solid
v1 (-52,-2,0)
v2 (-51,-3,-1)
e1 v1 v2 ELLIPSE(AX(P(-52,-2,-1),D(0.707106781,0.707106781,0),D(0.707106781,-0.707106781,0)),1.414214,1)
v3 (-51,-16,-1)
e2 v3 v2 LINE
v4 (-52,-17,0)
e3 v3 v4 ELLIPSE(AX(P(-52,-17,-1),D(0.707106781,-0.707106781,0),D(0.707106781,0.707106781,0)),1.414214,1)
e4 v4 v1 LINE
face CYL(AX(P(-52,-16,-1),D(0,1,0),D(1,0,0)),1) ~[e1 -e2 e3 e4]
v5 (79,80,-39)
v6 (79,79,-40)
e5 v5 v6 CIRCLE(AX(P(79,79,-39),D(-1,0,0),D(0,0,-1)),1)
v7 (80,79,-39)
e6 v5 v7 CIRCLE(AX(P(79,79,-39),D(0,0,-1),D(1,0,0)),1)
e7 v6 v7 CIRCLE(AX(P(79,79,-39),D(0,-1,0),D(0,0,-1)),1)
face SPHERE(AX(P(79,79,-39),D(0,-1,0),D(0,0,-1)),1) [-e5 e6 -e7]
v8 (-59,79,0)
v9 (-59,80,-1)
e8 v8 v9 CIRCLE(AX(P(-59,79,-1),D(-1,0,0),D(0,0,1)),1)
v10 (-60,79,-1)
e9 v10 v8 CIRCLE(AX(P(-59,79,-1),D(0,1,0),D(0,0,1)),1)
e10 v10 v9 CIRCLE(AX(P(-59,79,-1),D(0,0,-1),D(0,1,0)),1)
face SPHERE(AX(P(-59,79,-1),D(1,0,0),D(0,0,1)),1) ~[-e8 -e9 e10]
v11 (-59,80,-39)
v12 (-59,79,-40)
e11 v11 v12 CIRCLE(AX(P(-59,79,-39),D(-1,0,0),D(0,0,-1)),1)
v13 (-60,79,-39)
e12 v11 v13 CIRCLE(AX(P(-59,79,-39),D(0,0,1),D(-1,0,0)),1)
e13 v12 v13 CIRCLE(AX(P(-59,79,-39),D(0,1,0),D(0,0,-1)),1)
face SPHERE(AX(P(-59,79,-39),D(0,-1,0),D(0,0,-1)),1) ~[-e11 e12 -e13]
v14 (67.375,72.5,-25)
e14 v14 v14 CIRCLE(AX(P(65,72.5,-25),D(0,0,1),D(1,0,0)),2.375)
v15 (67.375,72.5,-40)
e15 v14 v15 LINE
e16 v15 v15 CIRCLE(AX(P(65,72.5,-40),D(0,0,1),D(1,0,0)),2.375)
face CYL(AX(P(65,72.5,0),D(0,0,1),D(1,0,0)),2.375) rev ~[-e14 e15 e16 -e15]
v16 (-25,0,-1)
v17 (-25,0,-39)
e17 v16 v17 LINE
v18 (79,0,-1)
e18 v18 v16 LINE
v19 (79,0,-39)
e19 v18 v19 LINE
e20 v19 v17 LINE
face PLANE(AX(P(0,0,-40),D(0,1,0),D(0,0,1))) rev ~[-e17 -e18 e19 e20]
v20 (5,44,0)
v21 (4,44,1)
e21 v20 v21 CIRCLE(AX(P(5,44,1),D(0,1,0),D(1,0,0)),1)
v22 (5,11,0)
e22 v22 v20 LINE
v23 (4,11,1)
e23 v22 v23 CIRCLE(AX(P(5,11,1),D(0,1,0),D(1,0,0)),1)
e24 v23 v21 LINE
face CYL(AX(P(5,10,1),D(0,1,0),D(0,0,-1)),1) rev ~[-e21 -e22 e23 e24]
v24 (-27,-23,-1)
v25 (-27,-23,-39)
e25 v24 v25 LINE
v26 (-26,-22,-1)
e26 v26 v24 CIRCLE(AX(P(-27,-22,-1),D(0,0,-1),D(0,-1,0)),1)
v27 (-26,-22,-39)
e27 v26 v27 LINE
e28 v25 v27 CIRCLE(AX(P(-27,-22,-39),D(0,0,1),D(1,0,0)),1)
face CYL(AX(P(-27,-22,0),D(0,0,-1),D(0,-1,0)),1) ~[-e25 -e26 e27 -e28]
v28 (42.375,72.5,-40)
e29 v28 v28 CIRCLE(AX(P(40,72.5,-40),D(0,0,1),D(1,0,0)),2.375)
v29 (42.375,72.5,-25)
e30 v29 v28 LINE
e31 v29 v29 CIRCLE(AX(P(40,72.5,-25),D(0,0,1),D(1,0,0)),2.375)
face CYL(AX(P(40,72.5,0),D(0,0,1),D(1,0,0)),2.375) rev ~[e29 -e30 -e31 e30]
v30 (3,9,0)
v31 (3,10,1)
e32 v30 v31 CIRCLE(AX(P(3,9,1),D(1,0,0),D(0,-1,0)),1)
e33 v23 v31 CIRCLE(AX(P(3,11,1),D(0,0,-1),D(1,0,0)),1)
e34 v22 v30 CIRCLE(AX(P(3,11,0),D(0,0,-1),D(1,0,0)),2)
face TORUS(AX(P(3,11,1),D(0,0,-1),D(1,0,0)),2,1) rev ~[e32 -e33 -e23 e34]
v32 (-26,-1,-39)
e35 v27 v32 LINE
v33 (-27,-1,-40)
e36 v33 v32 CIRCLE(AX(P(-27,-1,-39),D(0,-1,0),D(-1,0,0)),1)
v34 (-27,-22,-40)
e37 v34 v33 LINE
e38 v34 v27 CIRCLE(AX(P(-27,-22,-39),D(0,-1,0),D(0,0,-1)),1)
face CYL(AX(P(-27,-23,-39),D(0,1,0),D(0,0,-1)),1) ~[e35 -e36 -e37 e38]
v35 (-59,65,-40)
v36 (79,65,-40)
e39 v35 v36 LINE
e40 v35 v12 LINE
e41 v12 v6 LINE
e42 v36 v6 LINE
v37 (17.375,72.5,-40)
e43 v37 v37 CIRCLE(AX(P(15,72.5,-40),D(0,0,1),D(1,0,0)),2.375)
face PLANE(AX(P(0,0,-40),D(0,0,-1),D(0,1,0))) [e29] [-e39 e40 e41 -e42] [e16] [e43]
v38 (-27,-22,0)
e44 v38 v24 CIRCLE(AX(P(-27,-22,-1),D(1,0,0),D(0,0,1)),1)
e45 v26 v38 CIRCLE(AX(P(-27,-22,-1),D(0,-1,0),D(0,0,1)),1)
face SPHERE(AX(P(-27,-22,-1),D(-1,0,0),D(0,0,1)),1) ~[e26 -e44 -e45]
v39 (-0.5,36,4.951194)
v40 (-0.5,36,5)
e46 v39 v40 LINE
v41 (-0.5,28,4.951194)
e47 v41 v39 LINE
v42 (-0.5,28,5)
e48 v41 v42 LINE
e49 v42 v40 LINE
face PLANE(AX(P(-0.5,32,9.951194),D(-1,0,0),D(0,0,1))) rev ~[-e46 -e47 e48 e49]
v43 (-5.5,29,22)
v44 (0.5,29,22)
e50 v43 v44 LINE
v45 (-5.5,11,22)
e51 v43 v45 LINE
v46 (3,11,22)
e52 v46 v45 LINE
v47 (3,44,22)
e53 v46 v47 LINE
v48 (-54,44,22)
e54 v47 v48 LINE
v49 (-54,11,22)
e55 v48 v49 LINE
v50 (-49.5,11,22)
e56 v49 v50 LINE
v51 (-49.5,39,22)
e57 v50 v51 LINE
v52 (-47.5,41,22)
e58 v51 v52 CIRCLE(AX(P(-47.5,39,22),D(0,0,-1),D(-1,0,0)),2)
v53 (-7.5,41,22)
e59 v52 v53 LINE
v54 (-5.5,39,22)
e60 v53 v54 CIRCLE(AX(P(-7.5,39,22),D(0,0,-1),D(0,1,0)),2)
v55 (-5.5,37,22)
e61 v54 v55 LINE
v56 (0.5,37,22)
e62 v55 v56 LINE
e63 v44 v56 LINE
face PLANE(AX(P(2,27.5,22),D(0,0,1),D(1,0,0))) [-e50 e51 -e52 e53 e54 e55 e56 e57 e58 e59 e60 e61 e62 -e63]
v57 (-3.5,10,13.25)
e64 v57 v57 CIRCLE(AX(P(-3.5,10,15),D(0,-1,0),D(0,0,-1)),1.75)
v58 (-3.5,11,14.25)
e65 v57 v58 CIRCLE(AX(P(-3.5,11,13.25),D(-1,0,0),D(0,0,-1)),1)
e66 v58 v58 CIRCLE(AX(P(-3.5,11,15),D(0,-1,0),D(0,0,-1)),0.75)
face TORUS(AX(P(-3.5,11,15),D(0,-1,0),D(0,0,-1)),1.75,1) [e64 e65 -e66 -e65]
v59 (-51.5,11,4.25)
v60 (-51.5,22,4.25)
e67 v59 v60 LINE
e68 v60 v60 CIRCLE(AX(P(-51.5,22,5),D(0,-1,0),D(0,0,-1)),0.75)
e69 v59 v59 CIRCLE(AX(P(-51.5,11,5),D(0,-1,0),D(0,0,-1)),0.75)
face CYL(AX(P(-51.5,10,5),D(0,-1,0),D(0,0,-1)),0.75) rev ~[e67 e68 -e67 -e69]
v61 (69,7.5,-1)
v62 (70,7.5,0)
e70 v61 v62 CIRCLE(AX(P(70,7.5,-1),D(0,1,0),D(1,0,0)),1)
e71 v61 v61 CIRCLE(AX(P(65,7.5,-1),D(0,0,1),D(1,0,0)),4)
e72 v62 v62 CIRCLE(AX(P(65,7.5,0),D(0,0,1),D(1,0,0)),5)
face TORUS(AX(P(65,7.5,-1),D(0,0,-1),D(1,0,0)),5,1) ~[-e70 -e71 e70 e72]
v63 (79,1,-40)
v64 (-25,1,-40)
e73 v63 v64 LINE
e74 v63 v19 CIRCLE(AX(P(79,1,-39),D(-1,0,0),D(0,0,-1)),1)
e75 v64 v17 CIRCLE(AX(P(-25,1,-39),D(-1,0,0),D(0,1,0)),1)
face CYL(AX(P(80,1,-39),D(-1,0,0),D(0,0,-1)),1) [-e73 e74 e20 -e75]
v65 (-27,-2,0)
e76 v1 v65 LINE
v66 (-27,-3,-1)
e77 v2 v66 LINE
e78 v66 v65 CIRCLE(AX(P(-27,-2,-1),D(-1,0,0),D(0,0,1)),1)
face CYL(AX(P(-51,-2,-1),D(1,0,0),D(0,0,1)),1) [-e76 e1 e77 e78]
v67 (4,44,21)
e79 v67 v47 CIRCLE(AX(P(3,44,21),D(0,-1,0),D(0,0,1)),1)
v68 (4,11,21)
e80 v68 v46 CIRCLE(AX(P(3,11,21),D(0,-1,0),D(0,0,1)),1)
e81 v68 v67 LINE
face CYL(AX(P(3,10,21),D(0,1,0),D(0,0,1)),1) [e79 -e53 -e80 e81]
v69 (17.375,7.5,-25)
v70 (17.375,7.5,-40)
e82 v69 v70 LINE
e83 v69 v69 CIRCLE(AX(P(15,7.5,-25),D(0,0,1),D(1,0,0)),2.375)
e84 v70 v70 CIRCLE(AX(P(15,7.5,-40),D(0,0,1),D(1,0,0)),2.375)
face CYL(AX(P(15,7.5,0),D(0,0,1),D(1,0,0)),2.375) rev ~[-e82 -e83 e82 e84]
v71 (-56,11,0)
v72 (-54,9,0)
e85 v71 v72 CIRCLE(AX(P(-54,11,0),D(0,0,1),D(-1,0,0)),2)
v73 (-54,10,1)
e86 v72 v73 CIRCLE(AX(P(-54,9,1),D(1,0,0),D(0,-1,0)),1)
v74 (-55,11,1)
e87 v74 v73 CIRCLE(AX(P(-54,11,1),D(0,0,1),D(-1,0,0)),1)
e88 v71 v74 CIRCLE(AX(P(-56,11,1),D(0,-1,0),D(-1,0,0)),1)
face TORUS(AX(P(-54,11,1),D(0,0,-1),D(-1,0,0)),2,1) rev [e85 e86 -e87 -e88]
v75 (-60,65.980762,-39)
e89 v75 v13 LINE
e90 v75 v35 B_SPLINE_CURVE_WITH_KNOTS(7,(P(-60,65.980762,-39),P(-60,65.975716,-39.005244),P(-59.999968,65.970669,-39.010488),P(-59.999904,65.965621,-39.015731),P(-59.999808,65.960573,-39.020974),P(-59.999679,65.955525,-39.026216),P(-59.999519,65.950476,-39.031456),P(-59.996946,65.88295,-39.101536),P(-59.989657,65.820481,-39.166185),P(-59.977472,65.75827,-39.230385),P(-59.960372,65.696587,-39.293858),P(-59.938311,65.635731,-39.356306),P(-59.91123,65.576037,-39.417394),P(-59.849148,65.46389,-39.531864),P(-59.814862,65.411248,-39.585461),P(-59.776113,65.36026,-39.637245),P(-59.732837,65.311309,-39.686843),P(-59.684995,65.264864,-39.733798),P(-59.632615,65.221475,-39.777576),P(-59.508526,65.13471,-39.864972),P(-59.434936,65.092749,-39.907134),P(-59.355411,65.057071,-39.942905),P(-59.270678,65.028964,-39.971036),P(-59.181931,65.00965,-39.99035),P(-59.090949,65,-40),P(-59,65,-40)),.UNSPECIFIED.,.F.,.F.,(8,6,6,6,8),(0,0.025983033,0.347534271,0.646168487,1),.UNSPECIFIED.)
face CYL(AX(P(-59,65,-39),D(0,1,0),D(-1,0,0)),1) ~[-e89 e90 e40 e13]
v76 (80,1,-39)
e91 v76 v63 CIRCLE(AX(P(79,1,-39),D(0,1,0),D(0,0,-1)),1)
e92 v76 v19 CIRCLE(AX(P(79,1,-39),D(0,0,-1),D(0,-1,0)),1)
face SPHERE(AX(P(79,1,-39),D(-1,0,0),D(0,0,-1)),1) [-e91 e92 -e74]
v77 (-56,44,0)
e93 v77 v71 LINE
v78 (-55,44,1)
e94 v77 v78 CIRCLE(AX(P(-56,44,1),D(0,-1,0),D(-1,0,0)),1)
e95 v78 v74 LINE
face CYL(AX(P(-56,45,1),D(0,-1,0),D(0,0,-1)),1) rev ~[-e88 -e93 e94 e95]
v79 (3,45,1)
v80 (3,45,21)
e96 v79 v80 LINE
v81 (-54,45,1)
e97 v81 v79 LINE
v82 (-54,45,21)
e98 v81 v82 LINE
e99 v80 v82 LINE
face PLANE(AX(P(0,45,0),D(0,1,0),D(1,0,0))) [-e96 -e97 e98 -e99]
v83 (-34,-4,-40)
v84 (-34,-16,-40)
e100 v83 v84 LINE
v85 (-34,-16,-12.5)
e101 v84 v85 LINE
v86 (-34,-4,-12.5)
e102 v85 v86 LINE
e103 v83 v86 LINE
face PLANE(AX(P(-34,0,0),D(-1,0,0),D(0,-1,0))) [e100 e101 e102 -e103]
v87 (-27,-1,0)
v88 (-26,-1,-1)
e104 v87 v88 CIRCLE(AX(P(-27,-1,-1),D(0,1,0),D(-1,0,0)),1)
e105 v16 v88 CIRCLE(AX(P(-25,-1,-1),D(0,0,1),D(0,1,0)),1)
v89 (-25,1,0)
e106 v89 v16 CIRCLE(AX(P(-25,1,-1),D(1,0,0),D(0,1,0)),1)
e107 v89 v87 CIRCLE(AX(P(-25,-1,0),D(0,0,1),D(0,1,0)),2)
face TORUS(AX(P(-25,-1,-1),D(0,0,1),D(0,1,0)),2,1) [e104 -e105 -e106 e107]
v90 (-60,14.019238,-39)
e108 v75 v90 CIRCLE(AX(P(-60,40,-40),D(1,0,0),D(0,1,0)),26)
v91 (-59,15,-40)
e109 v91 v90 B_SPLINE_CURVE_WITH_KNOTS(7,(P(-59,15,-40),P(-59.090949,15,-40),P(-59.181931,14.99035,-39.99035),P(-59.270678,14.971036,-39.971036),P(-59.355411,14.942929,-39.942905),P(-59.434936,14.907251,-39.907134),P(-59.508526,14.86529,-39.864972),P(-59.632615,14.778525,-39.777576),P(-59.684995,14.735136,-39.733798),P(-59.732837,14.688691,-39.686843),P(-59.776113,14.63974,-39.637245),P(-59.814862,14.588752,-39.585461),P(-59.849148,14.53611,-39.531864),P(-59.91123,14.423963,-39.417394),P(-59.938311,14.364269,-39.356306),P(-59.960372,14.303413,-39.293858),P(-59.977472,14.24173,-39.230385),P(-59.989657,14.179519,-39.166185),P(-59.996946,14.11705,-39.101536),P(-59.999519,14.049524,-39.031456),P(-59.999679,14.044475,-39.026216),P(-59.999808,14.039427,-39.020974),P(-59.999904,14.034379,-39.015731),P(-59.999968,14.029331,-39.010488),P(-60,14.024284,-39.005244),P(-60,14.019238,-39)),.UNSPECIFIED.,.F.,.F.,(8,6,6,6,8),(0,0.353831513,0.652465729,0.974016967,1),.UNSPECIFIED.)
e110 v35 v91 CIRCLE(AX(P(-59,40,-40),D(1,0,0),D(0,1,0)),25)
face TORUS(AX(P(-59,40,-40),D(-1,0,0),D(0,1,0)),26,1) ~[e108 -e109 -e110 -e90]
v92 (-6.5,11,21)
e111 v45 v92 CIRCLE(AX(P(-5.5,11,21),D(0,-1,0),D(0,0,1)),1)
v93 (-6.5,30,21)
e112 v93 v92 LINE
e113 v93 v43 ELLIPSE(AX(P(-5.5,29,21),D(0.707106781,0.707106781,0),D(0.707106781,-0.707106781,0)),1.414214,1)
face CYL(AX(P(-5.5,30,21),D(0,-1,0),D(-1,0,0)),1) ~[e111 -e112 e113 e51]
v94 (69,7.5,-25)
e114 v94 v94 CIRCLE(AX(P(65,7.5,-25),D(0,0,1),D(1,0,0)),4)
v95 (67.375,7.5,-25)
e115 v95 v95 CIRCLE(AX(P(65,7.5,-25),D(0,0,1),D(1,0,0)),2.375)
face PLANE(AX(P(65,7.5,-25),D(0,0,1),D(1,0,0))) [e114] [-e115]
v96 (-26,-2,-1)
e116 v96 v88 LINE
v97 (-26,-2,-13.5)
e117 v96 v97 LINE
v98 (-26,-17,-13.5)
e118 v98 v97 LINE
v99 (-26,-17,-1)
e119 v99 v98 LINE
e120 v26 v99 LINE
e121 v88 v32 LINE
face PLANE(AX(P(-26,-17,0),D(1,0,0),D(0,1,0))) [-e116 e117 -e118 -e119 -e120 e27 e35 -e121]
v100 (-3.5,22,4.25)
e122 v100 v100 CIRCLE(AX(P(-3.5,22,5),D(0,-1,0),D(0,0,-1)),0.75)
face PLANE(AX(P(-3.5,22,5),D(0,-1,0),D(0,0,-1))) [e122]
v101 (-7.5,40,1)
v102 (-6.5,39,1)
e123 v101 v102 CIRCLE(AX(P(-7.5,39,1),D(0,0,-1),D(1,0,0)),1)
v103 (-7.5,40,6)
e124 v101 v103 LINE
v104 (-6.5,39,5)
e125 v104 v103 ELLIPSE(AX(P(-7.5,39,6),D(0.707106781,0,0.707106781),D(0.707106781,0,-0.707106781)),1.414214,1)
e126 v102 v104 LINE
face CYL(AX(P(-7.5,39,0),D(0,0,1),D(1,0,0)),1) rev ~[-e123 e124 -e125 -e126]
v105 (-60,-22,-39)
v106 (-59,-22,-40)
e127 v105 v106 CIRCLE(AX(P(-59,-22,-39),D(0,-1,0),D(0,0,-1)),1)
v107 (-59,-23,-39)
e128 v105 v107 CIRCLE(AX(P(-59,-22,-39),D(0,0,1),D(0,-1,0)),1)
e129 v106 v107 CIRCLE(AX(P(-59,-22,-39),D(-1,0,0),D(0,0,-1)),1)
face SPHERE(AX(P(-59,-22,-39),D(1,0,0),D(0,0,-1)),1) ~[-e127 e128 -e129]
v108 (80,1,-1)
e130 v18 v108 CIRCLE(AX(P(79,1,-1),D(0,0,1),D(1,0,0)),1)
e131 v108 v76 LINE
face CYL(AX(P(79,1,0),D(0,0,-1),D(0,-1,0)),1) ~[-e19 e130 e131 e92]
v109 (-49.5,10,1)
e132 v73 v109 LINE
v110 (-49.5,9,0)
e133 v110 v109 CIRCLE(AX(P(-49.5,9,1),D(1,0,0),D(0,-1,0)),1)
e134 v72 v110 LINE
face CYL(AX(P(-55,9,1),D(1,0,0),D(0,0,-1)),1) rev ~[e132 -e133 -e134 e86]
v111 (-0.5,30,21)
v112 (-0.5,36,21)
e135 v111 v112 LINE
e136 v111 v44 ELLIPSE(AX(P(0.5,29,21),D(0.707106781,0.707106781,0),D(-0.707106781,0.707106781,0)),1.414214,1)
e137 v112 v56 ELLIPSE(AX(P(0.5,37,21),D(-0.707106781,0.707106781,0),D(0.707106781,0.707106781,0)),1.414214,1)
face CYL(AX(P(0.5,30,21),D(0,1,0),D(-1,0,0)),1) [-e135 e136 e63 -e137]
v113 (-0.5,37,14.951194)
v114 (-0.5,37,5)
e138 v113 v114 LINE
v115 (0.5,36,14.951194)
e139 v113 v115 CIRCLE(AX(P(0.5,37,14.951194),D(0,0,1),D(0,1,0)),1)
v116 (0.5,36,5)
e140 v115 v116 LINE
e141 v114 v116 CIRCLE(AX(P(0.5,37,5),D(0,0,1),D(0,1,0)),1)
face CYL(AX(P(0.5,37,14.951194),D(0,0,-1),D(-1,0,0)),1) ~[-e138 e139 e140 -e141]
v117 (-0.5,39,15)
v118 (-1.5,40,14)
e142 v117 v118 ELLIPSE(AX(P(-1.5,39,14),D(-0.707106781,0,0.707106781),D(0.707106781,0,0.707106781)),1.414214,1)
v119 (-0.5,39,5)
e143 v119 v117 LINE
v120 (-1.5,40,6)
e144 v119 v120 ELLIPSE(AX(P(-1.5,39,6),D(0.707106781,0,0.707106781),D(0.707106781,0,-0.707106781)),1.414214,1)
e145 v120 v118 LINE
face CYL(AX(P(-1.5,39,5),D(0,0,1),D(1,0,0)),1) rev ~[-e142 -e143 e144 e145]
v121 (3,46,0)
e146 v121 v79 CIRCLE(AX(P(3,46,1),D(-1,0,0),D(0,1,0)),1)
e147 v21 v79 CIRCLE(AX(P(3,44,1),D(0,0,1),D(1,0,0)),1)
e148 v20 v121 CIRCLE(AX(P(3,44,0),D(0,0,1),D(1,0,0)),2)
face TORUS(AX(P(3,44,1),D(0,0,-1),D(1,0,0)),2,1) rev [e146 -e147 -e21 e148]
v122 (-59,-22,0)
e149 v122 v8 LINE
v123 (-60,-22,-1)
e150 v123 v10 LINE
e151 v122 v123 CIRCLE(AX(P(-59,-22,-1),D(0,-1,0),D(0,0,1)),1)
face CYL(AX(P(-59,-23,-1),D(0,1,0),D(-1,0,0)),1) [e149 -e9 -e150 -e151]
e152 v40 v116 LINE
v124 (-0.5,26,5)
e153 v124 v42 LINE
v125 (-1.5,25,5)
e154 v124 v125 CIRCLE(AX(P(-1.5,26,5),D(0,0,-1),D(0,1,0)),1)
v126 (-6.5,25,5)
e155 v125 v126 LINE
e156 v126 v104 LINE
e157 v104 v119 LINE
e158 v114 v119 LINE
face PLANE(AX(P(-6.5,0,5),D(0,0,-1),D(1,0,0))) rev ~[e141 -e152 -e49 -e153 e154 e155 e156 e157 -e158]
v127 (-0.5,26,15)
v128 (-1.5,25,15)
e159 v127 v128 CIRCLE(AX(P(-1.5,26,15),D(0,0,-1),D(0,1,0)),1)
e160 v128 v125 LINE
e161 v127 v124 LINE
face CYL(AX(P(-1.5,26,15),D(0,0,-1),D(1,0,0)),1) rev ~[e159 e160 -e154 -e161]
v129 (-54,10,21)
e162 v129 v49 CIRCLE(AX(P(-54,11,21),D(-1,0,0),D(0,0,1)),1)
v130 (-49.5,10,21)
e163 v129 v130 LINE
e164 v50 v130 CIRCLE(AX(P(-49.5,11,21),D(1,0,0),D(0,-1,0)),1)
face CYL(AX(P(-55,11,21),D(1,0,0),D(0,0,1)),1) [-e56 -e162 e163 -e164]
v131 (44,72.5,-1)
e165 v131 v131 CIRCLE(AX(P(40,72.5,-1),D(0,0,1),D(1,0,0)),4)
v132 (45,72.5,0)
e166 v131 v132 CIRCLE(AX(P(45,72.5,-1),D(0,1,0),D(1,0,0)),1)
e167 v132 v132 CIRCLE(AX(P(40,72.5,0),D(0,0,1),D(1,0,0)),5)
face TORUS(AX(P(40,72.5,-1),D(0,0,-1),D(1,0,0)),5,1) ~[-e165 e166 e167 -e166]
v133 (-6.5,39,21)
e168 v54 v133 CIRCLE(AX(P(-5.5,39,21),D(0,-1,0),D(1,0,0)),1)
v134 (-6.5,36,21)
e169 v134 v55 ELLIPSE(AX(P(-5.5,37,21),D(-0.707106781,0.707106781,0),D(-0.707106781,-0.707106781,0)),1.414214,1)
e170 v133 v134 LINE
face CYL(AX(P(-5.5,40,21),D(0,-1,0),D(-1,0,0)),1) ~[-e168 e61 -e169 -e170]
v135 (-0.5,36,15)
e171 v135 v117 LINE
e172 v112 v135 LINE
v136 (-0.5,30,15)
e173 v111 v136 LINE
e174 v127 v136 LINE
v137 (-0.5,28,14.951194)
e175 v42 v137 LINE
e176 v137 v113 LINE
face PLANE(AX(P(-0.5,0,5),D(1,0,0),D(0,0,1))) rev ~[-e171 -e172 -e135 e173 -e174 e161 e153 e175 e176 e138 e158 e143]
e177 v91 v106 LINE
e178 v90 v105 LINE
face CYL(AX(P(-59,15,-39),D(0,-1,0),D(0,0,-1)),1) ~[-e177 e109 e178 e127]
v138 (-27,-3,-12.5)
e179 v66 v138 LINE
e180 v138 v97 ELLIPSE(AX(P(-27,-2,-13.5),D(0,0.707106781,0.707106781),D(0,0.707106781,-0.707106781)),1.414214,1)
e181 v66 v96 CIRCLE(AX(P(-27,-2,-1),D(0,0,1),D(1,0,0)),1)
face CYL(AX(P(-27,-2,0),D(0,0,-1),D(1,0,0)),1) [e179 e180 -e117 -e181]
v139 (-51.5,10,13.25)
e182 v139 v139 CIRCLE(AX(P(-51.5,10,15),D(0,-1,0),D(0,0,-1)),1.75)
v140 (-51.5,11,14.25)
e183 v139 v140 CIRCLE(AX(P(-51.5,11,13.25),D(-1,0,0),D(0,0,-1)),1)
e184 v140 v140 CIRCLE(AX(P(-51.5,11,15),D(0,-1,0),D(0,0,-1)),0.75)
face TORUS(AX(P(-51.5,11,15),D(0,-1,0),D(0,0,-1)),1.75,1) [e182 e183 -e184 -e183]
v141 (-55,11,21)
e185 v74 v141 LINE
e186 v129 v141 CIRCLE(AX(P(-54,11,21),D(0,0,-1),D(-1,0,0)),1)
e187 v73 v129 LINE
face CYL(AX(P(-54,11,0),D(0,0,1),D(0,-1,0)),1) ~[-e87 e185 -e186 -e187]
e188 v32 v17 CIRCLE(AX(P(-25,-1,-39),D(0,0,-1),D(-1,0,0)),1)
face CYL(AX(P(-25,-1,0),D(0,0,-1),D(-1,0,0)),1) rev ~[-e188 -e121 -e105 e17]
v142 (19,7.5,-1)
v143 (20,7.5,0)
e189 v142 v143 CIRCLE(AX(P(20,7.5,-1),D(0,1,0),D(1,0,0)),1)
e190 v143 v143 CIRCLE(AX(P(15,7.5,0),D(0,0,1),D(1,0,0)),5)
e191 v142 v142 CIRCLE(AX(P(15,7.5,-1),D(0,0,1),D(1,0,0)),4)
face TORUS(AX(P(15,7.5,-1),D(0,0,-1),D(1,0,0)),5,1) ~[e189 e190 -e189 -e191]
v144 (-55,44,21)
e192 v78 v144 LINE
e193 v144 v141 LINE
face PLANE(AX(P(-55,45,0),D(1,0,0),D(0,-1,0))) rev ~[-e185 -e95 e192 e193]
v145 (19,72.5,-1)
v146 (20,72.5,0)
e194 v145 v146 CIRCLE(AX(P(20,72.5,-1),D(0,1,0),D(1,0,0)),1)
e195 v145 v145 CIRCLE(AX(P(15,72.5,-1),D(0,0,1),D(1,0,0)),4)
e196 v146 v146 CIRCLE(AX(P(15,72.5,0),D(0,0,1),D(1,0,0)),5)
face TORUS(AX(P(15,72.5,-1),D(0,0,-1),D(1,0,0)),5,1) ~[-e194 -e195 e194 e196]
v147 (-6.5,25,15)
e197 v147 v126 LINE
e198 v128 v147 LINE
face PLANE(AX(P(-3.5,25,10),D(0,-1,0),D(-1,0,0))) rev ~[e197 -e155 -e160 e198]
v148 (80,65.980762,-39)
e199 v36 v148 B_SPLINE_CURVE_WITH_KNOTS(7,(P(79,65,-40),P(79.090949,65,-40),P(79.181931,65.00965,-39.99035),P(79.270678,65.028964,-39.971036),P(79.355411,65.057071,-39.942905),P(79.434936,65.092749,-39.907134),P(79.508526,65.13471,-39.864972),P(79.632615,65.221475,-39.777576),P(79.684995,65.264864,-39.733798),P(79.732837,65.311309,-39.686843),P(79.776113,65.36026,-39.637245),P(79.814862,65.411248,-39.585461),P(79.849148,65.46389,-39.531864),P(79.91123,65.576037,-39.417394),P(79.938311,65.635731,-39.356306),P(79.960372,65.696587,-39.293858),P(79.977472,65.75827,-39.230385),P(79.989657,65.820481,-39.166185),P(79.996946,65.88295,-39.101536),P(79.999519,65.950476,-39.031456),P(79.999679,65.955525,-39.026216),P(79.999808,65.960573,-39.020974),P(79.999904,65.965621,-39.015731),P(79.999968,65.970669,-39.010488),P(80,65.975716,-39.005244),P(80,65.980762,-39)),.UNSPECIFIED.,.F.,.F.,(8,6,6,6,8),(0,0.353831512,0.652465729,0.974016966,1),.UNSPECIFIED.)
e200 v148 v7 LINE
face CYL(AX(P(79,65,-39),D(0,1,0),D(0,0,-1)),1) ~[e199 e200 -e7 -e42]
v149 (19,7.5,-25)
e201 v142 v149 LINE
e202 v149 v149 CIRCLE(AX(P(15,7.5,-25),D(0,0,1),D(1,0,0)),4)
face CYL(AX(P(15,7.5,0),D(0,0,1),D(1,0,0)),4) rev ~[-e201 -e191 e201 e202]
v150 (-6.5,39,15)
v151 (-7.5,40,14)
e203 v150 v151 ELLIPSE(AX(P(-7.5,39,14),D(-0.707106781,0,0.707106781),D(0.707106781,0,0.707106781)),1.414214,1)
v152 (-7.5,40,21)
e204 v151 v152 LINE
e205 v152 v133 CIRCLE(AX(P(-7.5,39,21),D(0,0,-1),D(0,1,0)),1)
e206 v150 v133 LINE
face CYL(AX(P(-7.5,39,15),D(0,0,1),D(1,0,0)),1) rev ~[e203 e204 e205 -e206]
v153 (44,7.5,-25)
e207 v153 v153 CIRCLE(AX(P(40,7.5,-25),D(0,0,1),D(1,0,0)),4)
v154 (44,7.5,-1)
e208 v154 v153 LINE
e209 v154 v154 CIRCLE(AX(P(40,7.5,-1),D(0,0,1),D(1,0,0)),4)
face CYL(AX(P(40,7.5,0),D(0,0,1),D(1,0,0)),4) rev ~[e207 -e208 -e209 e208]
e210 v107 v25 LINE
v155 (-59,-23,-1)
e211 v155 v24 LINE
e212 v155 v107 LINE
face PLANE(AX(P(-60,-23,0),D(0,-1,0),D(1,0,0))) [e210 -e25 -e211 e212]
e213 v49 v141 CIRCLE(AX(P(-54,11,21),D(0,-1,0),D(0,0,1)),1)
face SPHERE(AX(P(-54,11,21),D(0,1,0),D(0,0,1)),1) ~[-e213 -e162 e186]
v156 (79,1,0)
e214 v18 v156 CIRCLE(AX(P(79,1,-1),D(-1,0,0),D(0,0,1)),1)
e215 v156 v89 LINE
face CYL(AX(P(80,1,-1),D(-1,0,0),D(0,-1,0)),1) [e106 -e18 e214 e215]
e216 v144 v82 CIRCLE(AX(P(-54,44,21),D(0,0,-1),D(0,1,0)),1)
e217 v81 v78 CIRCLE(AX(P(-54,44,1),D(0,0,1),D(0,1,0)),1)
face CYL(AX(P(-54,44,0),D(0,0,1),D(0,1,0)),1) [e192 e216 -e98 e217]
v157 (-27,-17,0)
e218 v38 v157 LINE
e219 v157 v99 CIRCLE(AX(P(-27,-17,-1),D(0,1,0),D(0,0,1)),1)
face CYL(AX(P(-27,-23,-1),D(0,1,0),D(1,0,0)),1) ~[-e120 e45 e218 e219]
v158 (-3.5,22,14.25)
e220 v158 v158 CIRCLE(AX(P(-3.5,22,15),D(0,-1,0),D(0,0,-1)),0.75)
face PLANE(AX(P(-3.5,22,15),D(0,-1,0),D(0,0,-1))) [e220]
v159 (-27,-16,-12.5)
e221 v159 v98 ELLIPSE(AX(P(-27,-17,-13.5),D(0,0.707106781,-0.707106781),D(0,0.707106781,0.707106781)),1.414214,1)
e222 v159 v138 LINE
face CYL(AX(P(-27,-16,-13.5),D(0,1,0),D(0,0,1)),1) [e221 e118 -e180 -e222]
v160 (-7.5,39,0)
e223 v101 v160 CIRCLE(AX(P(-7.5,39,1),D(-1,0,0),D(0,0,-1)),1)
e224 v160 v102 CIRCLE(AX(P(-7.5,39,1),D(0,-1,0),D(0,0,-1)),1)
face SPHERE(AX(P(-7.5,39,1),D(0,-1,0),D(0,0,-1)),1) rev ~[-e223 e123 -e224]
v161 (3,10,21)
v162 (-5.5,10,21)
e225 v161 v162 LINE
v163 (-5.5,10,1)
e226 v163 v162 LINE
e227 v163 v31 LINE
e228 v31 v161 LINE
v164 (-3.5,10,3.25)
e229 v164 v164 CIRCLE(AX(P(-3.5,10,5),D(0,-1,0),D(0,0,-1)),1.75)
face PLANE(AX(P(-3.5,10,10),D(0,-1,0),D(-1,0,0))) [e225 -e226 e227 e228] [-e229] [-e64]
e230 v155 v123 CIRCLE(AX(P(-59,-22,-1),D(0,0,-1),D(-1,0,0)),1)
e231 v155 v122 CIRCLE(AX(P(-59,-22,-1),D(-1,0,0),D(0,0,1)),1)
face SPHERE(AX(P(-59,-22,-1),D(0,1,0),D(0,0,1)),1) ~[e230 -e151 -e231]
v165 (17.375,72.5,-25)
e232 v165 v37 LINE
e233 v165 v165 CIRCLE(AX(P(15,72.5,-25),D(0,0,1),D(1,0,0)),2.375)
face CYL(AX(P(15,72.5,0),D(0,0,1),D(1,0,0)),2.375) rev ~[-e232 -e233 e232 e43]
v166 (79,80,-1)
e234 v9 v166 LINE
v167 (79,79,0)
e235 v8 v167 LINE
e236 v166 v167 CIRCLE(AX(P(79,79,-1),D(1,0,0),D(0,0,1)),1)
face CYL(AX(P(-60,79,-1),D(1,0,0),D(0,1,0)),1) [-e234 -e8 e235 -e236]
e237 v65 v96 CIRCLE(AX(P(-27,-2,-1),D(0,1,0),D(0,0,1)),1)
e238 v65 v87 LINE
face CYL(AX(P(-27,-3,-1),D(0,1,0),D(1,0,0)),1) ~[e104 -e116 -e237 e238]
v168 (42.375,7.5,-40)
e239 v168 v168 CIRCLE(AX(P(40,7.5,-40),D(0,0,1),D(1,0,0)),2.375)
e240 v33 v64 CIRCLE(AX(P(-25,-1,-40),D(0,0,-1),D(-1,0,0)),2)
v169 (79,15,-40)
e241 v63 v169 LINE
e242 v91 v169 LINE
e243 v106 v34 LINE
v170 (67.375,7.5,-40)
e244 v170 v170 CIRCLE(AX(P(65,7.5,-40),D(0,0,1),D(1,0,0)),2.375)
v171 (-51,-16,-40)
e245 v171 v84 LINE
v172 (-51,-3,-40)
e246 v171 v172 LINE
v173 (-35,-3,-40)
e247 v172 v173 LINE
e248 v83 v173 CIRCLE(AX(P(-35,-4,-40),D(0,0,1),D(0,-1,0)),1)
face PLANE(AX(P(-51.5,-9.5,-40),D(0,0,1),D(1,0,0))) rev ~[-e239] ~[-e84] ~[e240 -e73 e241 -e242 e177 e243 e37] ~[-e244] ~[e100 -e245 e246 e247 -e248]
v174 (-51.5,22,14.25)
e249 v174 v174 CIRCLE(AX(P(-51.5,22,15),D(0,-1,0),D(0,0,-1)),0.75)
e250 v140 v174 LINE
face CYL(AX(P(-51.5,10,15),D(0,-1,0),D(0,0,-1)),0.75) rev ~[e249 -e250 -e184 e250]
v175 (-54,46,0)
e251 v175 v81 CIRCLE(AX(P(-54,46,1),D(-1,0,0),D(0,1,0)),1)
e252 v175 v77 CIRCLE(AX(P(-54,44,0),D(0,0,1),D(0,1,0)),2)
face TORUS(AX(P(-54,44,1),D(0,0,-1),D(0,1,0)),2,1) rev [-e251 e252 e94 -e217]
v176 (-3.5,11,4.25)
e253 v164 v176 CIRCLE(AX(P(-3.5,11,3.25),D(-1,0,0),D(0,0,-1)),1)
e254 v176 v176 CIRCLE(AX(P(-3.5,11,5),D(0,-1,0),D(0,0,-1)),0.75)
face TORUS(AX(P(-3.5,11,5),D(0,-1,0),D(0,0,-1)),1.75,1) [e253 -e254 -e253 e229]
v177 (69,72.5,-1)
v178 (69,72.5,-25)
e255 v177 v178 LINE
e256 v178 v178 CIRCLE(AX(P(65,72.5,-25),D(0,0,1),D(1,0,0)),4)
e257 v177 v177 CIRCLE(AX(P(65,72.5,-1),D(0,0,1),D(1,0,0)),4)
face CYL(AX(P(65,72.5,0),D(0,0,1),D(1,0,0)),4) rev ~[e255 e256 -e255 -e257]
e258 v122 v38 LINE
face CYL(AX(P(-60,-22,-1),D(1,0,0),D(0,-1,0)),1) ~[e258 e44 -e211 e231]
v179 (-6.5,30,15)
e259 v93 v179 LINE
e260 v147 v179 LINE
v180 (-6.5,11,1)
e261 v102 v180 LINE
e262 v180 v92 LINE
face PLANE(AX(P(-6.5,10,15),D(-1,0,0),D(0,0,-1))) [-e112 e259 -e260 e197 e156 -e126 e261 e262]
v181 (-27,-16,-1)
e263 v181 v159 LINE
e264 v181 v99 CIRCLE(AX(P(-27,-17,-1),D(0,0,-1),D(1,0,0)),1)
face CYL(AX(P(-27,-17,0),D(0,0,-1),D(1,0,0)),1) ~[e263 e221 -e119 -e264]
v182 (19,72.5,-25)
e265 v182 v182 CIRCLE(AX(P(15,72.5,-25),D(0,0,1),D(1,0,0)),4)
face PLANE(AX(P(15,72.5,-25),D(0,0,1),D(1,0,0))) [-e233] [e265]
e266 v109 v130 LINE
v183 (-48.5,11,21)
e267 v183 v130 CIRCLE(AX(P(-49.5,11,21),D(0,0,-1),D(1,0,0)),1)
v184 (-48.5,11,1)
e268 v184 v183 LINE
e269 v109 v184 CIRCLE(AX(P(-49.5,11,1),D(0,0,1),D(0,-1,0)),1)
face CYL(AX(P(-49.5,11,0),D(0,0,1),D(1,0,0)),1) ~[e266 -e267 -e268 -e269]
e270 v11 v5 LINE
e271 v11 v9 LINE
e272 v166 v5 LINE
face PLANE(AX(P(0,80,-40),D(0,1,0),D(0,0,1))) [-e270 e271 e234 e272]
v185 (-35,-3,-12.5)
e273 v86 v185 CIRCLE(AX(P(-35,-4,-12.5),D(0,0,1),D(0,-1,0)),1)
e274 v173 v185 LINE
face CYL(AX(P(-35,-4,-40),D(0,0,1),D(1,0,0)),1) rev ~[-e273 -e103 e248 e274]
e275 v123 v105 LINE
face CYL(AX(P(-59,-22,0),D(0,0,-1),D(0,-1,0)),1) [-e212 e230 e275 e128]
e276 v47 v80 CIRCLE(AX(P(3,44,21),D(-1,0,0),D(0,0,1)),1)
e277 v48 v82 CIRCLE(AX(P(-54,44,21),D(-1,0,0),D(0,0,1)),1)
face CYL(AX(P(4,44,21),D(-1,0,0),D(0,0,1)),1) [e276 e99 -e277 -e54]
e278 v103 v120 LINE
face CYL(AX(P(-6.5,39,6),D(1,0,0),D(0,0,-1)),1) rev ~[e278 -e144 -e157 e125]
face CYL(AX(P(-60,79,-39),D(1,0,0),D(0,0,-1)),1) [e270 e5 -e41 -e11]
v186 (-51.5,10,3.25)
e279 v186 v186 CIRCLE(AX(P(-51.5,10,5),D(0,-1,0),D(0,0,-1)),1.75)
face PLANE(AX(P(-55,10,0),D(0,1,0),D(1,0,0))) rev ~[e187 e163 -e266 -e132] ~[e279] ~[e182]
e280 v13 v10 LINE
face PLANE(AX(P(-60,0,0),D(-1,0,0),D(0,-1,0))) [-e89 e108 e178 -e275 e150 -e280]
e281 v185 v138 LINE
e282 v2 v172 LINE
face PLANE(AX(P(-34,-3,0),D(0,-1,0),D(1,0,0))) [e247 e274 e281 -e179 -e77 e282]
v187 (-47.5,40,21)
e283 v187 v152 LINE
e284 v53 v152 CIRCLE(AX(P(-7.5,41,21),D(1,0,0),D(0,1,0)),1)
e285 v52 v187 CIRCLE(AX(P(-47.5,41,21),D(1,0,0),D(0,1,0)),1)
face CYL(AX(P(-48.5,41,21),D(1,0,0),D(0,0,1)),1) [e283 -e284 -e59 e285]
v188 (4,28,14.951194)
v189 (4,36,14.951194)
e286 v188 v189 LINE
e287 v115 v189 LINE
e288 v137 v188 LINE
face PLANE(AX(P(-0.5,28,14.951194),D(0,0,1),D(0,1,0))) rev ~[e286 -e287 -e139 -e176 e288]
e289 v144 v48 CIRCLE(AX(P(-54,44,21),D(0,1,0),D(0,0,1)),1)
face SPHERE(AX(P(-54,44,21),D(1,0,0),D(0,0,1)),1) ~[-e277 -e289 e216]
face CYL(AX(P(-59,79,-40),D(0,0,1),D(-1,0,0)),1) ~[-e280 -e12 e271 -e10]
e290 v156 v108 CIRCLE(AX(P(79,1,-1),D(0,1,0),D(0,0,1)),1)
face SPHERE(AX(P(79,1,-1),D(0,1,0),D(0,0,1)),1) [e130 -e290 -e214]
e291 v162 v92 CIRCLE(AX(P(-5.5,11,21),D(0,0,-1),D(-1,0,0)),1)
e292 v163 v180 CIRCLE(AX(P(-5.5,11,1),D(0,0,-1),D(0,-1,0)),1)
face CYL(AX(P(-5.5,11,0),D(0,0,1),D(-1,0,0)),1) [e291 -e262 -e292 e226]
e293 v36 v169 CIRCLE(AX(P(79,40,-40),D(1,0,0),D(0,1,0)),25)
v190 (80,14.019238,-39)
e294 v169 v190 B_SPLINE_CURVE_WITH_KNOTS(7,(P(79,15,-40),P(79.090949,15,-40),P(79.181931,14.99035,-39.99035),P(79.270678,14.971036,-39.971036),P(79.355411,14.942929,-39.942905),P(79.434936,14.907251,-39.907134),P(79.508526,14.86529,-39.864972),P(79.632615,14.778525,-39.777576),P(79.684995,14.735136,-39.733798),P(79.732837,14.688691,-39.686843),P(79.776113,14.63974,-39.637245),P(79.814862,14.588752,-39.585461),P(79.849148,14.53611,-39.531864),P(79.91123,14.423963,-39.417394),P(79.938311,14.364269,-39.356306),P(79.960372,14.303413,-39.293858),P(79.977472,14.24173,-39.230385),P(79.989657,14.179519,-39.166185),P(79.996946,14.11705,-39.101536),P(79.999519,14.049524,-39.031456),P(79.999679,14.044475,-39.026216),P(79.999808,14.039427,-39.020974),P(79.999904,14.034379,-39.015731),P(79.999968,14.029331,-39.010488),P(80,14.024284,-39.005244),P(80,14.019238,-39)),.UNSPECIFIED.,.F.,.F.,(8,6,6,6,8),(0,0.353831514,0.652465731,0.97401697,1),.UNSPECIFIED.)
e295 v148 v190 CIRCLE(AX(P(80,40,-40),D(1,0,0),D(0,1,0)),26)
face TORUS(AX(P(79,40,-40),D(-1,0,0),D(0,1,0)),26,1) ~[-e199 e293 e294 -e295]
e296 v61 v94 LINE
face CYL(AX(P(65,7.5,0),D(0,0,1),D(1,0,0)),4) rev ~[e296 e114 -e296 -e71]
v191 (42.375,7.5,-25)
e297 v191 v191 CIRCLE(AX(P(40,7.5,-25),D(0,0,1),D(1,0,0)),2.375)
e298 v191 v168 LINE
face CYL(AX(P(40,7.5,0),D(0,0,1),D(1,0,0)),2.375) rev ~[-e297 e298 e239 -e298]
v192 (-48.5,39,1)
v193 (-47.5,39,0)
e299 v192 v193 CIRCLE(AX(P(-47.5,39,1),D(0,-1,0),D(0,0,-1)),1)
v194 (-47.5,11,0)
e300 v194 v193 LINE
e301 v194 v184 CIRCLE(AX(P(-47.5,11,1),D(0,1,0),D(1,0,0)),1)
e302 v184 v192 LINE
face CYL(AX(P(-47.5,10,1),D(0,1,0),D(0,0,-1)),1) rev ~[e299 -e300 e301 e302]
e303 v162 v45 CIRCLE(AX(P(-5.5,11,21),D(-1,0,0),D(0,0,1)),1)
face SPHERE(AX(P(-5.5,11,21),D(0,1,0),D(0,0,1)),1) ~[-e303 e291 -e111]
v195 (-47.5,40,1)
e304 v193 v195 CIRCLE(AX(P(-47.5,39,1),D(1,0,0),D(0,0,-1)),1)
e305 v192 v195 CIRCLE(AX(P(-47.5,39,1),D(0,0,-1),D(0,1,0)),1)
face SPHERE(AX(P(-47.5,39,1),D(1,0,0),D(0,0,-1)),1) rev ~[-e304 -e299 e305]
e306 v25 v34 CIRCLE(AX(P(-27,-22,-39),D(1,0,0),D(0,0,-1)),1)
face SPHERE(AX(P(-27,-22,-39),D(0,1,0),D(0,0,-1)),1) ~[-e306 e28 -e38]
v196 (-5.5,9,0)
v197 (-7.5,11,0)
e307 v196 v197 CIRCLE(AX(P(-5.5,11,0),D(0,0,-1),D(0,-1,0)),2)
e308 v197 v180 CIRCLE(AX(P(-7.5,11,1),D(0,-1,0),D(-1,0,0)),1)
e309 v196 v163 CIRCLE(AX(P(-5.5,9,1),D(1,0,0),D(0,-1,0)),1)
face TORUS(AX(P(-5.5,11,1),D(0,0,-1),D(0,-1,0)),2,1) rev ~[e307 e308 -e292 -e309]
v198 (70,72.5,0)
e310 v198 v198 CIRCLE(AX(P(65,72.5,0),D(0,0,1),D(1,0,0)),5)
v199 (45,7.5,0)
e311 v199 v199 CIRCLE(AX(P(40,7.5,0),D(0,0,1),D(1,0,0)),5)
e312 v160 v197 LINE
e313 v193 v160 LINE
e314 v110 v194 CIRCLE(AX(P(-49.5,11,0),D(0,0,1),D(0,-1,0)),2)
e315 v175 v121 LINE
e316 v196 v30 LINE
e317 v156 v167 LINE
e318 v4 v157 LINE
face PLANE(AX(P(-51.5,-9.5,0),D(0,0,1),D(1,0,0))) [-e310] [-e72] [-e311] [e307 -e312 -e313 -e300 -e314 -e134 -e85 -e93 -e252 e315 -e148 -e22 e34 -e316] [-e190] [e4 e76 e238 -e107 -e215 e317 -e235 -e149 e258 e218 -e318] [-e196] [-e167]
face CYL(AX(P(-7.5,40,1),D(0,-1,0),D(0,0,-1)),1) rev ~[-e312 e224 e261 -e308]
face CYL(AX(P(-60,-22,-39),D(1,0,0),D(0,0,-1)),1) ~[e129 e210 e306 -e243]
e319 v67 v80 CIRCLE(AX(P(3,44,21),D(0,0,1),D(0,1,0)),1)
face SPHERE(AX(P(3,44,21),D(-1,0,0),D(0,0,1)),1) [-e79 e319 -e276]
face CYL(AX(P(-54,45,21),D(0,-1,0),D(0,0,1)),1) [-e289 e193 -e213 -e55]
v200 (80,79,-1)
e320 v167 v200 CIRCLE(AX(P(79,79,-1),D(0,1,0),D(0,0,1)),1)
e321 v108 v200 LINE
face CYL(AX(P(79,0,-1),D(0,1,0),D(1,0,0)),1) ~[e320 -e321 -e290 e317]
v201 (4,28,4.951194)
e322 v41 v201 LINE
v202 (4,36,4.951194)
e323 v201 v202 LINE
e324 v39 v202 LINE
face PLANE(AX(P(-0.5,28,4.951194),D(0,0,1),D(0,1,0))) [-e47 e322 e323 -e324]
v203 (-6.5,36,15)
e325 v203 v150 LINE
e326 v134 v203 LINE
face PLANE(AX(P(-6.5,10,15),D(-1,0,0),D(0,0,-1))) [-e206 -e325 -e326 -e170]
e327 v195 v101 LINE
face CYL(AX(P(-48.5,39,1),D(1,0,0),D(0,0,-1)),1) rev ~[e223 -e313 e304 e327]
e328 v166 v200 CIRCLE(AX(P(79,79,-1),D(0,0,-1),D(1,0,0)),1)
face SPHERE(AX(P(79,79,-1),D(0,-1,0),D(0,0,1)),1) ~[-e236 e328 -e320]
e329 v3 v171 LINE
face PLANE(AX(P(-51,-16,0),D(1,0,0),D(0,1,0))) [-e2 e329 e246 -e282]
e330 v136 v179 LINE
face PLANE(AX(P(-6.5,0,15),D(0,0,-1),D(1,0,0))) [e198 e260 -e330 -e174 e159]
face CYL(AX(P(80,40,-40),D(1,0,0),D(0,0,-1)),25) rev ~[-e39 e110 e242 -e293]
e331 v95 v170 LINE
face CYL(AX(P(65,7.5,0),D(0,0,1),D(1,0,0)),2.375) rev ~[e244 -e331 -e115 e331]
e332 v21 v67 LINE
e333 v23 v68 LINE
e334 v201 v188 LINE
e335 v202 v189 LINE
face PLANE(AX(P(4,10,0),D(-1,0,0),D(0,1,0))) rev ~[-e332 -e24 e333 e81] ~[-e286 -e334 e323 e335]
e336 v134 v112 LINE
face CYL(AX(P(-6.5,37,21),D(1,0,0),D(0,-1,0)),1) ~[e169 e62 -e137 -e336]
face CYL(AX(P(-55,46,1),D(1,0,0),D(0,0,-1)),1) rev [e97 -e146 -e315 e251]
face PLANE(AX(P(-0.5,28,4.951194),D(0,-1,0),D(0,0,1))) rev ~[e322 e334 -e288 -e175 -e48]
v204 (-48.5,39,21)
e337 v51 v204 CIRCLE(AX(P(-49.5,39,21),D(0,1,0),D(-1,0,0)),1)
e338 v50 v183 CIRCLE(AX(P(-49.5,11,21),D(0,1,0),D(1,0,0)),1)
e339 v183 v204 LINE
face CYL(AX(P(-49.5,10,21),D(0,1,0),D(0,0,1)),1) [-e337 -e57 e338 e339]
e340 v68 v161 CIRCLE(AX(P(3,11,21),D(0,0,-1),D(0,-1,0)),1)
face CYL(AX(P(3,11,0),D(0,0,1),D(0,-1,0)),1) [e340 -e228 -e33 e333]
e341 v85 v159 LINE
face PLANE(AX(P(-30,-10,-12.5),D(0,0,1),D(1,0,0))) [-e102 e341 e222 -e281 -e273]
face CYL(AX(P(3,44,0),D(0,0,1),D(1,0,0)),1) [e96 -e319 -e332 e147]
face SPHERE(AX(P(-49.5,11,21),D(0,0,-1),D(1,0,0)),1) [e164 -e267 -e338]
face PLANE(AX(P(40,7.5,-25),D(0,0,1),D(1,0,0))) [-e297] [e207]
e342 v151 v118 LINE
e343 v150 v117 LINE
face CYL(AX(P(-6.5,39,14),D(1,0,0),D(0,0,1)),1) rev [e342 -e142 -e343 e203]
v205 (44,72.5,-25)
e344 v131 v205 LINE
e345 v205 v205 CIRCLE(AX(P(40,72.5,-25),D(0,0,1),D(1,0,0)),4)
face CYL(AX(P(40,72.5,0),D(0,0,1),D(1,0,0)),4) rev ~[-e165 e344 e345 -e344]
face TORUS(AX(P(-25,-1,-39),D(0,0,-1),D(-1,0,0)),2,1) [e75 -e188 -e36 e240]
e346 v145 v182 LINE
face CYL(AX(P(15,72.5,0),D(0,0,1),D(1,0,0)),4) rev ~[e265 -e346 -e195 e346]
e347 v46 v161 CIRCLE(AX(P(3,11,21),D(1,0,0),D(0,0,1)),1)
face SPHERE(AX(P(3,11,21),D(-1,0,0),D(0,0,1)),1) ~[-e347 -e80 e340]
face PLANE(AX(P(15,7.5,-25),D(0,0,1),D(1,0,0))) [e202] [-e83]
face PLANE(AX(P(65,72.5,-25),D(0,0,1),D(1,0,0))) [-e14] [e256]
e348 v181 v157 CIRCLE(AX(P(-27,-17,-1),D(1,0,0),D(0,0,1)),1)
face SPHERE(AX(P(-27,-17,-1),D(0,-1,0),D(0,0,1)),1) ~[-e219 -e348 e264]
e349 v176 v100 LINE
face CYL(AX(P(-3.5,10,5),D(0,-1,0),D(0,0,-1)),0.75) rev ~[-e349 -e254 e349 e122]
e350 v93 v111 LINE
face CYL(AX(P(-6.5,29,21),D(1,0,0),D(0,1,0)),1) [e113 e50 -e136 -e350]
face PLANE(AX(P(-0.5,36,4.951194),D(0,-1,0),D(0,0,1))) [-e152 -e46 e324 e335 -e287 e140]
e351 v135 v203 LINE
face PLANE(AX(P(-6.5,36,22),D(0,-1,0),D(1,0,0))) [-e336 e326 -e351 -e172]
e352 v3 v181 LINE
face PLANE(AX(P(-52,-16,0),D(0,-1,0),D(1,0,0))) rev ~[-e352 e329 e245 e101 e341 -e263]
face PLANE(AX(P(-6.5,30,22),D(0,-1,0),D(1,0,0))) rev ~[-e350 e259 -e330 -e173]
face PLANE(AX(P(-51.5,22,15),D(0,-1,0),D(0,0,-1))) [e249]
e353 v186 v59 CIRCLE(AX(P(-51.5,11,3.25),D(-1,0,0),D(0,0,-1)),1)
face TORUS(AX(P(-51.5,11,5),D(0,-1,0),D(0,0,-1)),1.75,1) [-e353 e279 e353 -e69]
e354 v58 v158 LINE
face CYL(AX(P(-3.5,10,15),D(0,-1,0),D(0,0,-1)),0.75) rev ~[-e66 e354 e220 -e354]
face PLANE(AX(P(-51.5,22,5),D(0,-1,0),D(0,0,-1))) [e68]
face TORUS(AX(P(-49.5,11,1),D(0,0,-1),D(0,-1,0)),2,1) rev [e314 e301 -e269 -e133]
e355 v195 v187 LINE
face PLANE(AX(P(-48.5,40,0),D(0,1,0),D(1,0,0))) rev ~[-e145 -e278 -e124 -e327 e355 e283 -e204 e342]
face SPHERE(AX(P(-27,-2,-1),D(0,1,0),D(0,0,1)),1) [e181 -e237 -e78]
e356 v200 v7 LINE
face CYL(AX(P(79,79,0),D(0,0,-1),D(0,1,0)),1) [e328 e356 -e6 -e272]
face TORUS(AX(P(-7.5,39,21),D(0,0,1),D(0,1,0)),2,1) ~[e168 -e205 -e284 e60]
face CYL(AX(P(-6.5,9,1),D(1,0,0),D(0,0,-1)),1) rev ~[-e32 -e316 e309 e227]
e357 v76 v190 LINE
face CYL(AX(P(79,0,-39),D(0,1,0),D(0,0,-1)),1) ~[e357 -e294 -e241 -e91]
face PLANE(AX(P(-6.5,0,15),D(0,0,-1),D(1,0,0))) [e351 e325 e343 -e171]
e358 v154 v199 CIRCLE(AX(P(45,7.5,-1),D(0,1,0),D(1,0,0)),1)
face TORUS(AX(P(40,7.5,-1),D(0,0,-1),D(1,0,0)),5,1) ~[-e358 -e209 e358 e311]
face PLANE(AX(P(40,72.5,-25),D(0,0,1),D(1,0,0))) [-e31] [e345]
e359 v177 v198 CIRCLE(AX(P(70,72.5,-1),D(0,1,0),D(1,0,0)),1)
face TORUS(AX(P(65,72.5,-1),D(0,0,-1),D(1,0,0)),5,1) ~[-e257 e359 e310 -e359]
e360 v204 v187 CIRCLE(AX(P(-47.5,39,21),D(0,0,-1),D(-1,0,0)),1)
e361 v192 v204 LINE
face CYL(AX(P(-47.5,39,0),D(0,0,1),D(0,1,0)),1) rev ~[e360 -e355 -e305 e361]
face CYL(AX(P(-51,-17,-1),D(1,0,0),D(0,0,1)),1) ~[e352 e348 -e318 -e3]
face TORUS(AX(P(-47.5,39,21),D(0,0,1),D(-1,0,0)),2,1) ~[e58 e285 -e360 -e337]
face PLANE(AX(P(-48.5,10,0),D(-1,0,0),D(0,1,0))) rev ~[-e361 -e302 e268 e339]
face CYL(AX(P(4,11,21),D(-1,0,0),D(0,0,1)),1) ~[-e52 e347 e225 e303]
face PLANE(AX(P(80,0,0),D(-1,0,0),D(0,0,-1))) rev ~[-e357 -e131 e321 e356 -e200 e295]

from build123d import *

# Parameters (mm, degrees)
SKETCH5_W            = 80
SKETCH5_H            = 40
BOSS_EXTRUDE2_DEPTH  = 80
SKETCH16_W           = 40
SKETCH16_H           = 80
BOSS_EXTRUDE3_DEPTH  = 60
SKETCH9_R            = 25
CUT_EXTRUDE5_DEPTH   = 167.132477258
BOSS_EXTRUDE5_DEPTH  = 22
SKETCH19_W           = 6
SKETCH19_H           = 10
CUT_EXTRUDE12_DEPTH  = 40
SKETCH21_W           = 4
SKETCH21_H           = 35
BOSS_EXTRUDE6_DEPTH  = 22
SKETCH22_W           = 6
SKETCH22_H           = 10
BOSS_EXTRUDE7_DEPTH  = 15
SKETCH23_W           = 10
SKETCH23_H           = 8
CUT_EXTRUDE13_DEPTH  = 4.5
SKETCH24_R           = 0.75
CUT_EXTRUDE14_DEPTH  = 12
SKETCH25_W           = 18
SKETCH25_H           = 40
BOSS_EXTRUDE8_DEPTH  = 3
BOSS_EXTRUDE9_DEPTH  = 40
SKETCH27_W           = 8
SKETCH27_H           = 14
CUT_EXTRUDE15_DEPTH  = 12.5
SKETCH28_W           = 26
SKETCH28_H           = 1
BOSS_EXTRUDE10_DEPTH = 40
SKETCH29_W           = 1
SKETCH29_H           = 13
BOSS_EXTRUDE11_DEPTH = 40
SKETCH30_R           = 2.375
CUT_EXTRUDE16_DEPTH  = 121
SKETCH33_R           = 4
CUT_EXTRUDE17_DEPTH  = 25
SKETCH34_W           = 6
SKETCH34_H           = 6
CUT_EXTRUDE18_DEPTH  = 10
FILLET1_R            = 1


with BuildPart() as part:
    # Sketch5 → Boss-Extrude2 (new body)
    with BuildSketch(Plane(origin=(0, 0, 0), x_dir=(1, 0, 0), z_dir=(0, 1, 0))):
        with Locations((40, 20)):
            Rectangle(SKETCH5_W, SKETCH5_H)
    extrude(amount=BOSS_EXTRUDE2_DEPTH)

    # Sketch16 → Boss-Extrude3 (add)
    with BuildSketch(Plane.ZY):
        with Locations((-20, 40)):
            Rectangle(SKETCH16_W, SKETCH16_H)
    extrude(amount=BOSS_EXTRUDE3_DEPTH)

    # Sketch9 → Cut-Extrude5 (cut, through all)
    with BuildSketch(Plane(origin=(80, 0, 0), x_dir=(0, 0, -1), z_dir=(1, 0, 0))):
        with Locations((40, 40)):
            Circle(SKETCH9_R)
    extrude(amount=-CUT_EXTRUDE5_DEPTH, mode=Mode.SUBTRACT)

    # Sketch18 → Boss-Extrude5 (add)
    with BuildSketch(Plane.XY):
        Polygon((-55, 45), (-55, 10), (-48.5, 10), (-48.5, 40), (-6.5, 40), (-6.5, 10), (0, 10), (0, 45), align=None)
    extrude(amount=BOSS_EXTRUDE5_DEPTH)

    # Sketch19 → Cut-Extrude12 (cut)
    with BuildSketch(Plane.XZ):
        with Locations((-3.5, 10)):
            Rectangle(SKETCH19_W, SKETCH19_H)
    extrude(amount=-CUT_EXTRUDE12_DEPTH, mode=Mode.SUBTRACT)

    # Sketch21 → Boss-Extrude6 (add)
    with BuildSketch(Plane.XY):
        with Locations((2, 27.5)):
            Rectangle(SKETCH21_W, SKETCH21_H)
    extrude(amount=BOSS_EXTRUDE6_DEPTH)

    # Sketch22 → Boss-Extrude7 (add)
    with BuildSketch(Plane(origin=(0, 10, 0), x_dir=(-1, 0, 0), z_dir=(0, -1, 0))):
        with Locations((3.5, -10)):
            Rectangle(SKETCH22_W, SKETCH22_H)
    extrude(amount=-BOSS_EXTRUDE7_DEPTH)

    # Sketch23 → Cut-Extrude13 (cut)
    with BuildSketch(Plane.ZY.offset(0.5)):
        with Locations((9.951194317, 32)):
            Rectangle(SKETCH23_W, SKETCH23_H)
    extrude(amount=-CUT_EXTRUDE13_DEPTH, mode=Mode.SUBTRACT)

    # Sketch24 → Cut-Extrude14 (cut)
    with BuildSketch(Plane(origin=(0, 10, 0), x_dir=(-1, 0, 0), z_dir=(0, -1, 0))):
        with Locations(Location((51.5, -5, 0), (0, 0, 90))):
            Circle(SKETCH24_R)
        with Locations(Location((51.5, -15, 0), (0, 0, 90))):
            Circle(SKETCH24_R)
        with Locations(Location((3.5, -15, 0), (0, 0, 90))):
            Circle(SKETCH24_R)
        with Locations(Location((3.5, -5, 0), (0, 0, 90))):
            Circle(SKETCH24_R)
    extrude(amount=-CUT_EXTRUDE14_DEPTH, mode=Mode.SUBTRACT)

    # Sketch25 → Boss-Extrude8 (add)
    with BuildSketch(Plane.XZ):
        with Locations((-43, -20)):
            Rectangle(SKETCH25_W, SKETCH25_H)
    extrude(amount=BOSS_EXTRUDE8_DEPTH)

    # Sketch26 → Boss-Extrude9 (add, through all)
    with BuildSketch(Plane.XY):
        Polygon((-52, 0), (-60, 0), (-60, -23), (-26, -23), (-26, 0), (-34, 0), (-34, -3), (-34, -17), (-52, -17), (-52, -3), align=None)
    extrude(amount=-BOSS_EXTRUDE9_DEPTH)

    # Sketch27 → Cut-Extrude15 (cut)
    with BuildSketch(Plane.XY):
        with Locations((-30, -10)):
            Rectangle(SKETCH27_W, SKETCH27_H)
    extrude(amount=-CUT_EXTRUDE15_DEPTH, mode=Mode.SUBTRACT)

    # Sketch28 → Boss-Extrude10 (add, through all)
    with BuildSketch(Plane.XY):
        with Locations((-39, -16.5)):
            Rectangle(SKETCH28_W, SKETCH28_H)
    extrude(amount=-BOSS_EXTRUDE10_DEPTH)

    # Sketch29 → Boss-Extrude11 (add, through all)
    with BuildSketch(Plane.XY):
        with Locations((-51.5, -9.5)):
            Rectangle(SKETCH29_W, SKETCH29_H)
    extrude(amount=-BOSS_EXTRUDE11_DEPTH)

    # Sketch30 → Cut-Extrude16 (cut, through all)
    with BuildSketch(Plane.XY):
        with Locations((15, 72.5)):
            Circle(SKETCH30_R)
        with Locations((40, 72.5)):
            Circle(SKETCH30_R)
        with Locations((65, 72.5)):
            Circle(SKETCH30_R)
        with Locations((15, 7.5)):
            Circle(SKETCH30_R)
        with Locations((40, 7.5)):
            Circle(SKETCH30_R)
        with Locations((65, 7.5)):
            Circle(SKETCH30_R)
    extrude(amount=-CUT_EXTRUDE16_DEPTH, mode=Mode.SUBTRACT)

    # Sketch33 → Cut-Extrude17 (cut)
    with BuildSketch(Plane.XY):
        with Locations((15, 7.5)):
            Circle(SKETCH33_R)
        with Locations((40, 7.5)):
            Circle(SKETCH33_R)
        with Locations((65, 7.5)):
            Circle(SKETCH33_R)
        with Locations((65, 72.5)):
            Circle(SKETCH33_R)
        with Locations((40, 72.5)):
            Circle(SKETCH33_R)
        with Locations((15, 72.5)):
            Circle(SKETCH33_R)
    extrude(amount=-CUT_EXTRUDE17_DEPTH, mode=Mode.SUBTRACT)

    # Sketch34 → Cut-Extrude18 (cut)
    with BuildSketch(Plane.XY.offset(22)):
        with Locations((-3.5, 33)):
            Rectangle(SKETCH34_W, SKETCH34_H)
    extrude(amount=-CUT_EXTRUDE18_DEPTH, mode=Mode.SUBTRACT)

    # Fillet1
    fillet1_edges = [part.edges().sort_by_distance(p)[0] for p in [
        (80, 40, 0),
        (27, 0, 0),
        (10, 80, 0),
        (-26, -1.5, 0),
        (-60, 28.5, 0),
        (-38.5, -3, 0),
        (-43, -23, 0),
        (-51, -9.5, 0),
        (-26, -19.5, 0),
        (-38.5, -16, 0),
        (11, 72.5, 0),
        (36, 72.5, 0),
        (61, 72.5, 0),
        (4, 27.5, 0),
        (-25.5, 45, 0),
        (-1.25, 10, 0),
        (-55, 27.5, 0),
        (-6.5, 25, 0),
        (-51.75, 10, 0),
        (-27.5, 40, 0),
        (-48.5, 25, 0),
        (11, 7.5, 0),
        (36, 7.5, 0),
        (61, 7.5, 0),
        (-26, -11.5, -40),
        (-43, -23, -40),
        (27, 0, -40),
        (-60, -4, -40),
        (80, 7.5, -40),
        (-34, -3, -26.25),
        (-26, -9.5, -12.5),
        (80, 40, -15),
        (-60, 40, -15),
        (-60, 72.5, -40),
        (80, 72.5, -40),
        (10, 80, -40),
        (-48.5, 10, 11),
        (-48.5, 40, 11),
        (-48.5, 25, 22),
        (-25.5, 45, 22),
        (-55, 27.5, 22),
        (-51.75, 10, 22),
        (-27.5, 40, 22),
        (-6.5, 38, 22),
        (-3.5, 36, 22),
        (-0.5, 33, 22),
        (-3.5, 30, 22),
        (-6.5, 20, 22),
        (-1.25, 10, 22),
        (4, 27.5, 22),
        (-0.5, 25, 10),
        (-3.5, 40, 5),
        (-0.5, 36, 9.975597159),
        (-0.5, 40, 10),
        (-3.5, 40, 15),
        (-6.5, 40, 18.5),
        (-6.5, 40, 2.5),
        (-55, 10, 11),
        (-51.5, 10, 15.75),
        (-51.5, 10, 5.75),
        (-6.5, 10, 11),
        (-55, 45, 11),
        (4, 10, 11),
        (-3.5, 10, 15.75),
        (-3.5, 10, 5.75),
        (4, 45, 11),
        (-26, -16, -6.25),
        (-60, -23, -20),
        (-26, -23, -20),
        (-26, -3, -6.25),
        (-60, 80, -20),
        (-26, 0, -20),
        (80, 80, -20),
        (80, 0, -20),
    ]]
    fillet(fillet1_edges, radius=FILLET1_R)


solid = part.part
